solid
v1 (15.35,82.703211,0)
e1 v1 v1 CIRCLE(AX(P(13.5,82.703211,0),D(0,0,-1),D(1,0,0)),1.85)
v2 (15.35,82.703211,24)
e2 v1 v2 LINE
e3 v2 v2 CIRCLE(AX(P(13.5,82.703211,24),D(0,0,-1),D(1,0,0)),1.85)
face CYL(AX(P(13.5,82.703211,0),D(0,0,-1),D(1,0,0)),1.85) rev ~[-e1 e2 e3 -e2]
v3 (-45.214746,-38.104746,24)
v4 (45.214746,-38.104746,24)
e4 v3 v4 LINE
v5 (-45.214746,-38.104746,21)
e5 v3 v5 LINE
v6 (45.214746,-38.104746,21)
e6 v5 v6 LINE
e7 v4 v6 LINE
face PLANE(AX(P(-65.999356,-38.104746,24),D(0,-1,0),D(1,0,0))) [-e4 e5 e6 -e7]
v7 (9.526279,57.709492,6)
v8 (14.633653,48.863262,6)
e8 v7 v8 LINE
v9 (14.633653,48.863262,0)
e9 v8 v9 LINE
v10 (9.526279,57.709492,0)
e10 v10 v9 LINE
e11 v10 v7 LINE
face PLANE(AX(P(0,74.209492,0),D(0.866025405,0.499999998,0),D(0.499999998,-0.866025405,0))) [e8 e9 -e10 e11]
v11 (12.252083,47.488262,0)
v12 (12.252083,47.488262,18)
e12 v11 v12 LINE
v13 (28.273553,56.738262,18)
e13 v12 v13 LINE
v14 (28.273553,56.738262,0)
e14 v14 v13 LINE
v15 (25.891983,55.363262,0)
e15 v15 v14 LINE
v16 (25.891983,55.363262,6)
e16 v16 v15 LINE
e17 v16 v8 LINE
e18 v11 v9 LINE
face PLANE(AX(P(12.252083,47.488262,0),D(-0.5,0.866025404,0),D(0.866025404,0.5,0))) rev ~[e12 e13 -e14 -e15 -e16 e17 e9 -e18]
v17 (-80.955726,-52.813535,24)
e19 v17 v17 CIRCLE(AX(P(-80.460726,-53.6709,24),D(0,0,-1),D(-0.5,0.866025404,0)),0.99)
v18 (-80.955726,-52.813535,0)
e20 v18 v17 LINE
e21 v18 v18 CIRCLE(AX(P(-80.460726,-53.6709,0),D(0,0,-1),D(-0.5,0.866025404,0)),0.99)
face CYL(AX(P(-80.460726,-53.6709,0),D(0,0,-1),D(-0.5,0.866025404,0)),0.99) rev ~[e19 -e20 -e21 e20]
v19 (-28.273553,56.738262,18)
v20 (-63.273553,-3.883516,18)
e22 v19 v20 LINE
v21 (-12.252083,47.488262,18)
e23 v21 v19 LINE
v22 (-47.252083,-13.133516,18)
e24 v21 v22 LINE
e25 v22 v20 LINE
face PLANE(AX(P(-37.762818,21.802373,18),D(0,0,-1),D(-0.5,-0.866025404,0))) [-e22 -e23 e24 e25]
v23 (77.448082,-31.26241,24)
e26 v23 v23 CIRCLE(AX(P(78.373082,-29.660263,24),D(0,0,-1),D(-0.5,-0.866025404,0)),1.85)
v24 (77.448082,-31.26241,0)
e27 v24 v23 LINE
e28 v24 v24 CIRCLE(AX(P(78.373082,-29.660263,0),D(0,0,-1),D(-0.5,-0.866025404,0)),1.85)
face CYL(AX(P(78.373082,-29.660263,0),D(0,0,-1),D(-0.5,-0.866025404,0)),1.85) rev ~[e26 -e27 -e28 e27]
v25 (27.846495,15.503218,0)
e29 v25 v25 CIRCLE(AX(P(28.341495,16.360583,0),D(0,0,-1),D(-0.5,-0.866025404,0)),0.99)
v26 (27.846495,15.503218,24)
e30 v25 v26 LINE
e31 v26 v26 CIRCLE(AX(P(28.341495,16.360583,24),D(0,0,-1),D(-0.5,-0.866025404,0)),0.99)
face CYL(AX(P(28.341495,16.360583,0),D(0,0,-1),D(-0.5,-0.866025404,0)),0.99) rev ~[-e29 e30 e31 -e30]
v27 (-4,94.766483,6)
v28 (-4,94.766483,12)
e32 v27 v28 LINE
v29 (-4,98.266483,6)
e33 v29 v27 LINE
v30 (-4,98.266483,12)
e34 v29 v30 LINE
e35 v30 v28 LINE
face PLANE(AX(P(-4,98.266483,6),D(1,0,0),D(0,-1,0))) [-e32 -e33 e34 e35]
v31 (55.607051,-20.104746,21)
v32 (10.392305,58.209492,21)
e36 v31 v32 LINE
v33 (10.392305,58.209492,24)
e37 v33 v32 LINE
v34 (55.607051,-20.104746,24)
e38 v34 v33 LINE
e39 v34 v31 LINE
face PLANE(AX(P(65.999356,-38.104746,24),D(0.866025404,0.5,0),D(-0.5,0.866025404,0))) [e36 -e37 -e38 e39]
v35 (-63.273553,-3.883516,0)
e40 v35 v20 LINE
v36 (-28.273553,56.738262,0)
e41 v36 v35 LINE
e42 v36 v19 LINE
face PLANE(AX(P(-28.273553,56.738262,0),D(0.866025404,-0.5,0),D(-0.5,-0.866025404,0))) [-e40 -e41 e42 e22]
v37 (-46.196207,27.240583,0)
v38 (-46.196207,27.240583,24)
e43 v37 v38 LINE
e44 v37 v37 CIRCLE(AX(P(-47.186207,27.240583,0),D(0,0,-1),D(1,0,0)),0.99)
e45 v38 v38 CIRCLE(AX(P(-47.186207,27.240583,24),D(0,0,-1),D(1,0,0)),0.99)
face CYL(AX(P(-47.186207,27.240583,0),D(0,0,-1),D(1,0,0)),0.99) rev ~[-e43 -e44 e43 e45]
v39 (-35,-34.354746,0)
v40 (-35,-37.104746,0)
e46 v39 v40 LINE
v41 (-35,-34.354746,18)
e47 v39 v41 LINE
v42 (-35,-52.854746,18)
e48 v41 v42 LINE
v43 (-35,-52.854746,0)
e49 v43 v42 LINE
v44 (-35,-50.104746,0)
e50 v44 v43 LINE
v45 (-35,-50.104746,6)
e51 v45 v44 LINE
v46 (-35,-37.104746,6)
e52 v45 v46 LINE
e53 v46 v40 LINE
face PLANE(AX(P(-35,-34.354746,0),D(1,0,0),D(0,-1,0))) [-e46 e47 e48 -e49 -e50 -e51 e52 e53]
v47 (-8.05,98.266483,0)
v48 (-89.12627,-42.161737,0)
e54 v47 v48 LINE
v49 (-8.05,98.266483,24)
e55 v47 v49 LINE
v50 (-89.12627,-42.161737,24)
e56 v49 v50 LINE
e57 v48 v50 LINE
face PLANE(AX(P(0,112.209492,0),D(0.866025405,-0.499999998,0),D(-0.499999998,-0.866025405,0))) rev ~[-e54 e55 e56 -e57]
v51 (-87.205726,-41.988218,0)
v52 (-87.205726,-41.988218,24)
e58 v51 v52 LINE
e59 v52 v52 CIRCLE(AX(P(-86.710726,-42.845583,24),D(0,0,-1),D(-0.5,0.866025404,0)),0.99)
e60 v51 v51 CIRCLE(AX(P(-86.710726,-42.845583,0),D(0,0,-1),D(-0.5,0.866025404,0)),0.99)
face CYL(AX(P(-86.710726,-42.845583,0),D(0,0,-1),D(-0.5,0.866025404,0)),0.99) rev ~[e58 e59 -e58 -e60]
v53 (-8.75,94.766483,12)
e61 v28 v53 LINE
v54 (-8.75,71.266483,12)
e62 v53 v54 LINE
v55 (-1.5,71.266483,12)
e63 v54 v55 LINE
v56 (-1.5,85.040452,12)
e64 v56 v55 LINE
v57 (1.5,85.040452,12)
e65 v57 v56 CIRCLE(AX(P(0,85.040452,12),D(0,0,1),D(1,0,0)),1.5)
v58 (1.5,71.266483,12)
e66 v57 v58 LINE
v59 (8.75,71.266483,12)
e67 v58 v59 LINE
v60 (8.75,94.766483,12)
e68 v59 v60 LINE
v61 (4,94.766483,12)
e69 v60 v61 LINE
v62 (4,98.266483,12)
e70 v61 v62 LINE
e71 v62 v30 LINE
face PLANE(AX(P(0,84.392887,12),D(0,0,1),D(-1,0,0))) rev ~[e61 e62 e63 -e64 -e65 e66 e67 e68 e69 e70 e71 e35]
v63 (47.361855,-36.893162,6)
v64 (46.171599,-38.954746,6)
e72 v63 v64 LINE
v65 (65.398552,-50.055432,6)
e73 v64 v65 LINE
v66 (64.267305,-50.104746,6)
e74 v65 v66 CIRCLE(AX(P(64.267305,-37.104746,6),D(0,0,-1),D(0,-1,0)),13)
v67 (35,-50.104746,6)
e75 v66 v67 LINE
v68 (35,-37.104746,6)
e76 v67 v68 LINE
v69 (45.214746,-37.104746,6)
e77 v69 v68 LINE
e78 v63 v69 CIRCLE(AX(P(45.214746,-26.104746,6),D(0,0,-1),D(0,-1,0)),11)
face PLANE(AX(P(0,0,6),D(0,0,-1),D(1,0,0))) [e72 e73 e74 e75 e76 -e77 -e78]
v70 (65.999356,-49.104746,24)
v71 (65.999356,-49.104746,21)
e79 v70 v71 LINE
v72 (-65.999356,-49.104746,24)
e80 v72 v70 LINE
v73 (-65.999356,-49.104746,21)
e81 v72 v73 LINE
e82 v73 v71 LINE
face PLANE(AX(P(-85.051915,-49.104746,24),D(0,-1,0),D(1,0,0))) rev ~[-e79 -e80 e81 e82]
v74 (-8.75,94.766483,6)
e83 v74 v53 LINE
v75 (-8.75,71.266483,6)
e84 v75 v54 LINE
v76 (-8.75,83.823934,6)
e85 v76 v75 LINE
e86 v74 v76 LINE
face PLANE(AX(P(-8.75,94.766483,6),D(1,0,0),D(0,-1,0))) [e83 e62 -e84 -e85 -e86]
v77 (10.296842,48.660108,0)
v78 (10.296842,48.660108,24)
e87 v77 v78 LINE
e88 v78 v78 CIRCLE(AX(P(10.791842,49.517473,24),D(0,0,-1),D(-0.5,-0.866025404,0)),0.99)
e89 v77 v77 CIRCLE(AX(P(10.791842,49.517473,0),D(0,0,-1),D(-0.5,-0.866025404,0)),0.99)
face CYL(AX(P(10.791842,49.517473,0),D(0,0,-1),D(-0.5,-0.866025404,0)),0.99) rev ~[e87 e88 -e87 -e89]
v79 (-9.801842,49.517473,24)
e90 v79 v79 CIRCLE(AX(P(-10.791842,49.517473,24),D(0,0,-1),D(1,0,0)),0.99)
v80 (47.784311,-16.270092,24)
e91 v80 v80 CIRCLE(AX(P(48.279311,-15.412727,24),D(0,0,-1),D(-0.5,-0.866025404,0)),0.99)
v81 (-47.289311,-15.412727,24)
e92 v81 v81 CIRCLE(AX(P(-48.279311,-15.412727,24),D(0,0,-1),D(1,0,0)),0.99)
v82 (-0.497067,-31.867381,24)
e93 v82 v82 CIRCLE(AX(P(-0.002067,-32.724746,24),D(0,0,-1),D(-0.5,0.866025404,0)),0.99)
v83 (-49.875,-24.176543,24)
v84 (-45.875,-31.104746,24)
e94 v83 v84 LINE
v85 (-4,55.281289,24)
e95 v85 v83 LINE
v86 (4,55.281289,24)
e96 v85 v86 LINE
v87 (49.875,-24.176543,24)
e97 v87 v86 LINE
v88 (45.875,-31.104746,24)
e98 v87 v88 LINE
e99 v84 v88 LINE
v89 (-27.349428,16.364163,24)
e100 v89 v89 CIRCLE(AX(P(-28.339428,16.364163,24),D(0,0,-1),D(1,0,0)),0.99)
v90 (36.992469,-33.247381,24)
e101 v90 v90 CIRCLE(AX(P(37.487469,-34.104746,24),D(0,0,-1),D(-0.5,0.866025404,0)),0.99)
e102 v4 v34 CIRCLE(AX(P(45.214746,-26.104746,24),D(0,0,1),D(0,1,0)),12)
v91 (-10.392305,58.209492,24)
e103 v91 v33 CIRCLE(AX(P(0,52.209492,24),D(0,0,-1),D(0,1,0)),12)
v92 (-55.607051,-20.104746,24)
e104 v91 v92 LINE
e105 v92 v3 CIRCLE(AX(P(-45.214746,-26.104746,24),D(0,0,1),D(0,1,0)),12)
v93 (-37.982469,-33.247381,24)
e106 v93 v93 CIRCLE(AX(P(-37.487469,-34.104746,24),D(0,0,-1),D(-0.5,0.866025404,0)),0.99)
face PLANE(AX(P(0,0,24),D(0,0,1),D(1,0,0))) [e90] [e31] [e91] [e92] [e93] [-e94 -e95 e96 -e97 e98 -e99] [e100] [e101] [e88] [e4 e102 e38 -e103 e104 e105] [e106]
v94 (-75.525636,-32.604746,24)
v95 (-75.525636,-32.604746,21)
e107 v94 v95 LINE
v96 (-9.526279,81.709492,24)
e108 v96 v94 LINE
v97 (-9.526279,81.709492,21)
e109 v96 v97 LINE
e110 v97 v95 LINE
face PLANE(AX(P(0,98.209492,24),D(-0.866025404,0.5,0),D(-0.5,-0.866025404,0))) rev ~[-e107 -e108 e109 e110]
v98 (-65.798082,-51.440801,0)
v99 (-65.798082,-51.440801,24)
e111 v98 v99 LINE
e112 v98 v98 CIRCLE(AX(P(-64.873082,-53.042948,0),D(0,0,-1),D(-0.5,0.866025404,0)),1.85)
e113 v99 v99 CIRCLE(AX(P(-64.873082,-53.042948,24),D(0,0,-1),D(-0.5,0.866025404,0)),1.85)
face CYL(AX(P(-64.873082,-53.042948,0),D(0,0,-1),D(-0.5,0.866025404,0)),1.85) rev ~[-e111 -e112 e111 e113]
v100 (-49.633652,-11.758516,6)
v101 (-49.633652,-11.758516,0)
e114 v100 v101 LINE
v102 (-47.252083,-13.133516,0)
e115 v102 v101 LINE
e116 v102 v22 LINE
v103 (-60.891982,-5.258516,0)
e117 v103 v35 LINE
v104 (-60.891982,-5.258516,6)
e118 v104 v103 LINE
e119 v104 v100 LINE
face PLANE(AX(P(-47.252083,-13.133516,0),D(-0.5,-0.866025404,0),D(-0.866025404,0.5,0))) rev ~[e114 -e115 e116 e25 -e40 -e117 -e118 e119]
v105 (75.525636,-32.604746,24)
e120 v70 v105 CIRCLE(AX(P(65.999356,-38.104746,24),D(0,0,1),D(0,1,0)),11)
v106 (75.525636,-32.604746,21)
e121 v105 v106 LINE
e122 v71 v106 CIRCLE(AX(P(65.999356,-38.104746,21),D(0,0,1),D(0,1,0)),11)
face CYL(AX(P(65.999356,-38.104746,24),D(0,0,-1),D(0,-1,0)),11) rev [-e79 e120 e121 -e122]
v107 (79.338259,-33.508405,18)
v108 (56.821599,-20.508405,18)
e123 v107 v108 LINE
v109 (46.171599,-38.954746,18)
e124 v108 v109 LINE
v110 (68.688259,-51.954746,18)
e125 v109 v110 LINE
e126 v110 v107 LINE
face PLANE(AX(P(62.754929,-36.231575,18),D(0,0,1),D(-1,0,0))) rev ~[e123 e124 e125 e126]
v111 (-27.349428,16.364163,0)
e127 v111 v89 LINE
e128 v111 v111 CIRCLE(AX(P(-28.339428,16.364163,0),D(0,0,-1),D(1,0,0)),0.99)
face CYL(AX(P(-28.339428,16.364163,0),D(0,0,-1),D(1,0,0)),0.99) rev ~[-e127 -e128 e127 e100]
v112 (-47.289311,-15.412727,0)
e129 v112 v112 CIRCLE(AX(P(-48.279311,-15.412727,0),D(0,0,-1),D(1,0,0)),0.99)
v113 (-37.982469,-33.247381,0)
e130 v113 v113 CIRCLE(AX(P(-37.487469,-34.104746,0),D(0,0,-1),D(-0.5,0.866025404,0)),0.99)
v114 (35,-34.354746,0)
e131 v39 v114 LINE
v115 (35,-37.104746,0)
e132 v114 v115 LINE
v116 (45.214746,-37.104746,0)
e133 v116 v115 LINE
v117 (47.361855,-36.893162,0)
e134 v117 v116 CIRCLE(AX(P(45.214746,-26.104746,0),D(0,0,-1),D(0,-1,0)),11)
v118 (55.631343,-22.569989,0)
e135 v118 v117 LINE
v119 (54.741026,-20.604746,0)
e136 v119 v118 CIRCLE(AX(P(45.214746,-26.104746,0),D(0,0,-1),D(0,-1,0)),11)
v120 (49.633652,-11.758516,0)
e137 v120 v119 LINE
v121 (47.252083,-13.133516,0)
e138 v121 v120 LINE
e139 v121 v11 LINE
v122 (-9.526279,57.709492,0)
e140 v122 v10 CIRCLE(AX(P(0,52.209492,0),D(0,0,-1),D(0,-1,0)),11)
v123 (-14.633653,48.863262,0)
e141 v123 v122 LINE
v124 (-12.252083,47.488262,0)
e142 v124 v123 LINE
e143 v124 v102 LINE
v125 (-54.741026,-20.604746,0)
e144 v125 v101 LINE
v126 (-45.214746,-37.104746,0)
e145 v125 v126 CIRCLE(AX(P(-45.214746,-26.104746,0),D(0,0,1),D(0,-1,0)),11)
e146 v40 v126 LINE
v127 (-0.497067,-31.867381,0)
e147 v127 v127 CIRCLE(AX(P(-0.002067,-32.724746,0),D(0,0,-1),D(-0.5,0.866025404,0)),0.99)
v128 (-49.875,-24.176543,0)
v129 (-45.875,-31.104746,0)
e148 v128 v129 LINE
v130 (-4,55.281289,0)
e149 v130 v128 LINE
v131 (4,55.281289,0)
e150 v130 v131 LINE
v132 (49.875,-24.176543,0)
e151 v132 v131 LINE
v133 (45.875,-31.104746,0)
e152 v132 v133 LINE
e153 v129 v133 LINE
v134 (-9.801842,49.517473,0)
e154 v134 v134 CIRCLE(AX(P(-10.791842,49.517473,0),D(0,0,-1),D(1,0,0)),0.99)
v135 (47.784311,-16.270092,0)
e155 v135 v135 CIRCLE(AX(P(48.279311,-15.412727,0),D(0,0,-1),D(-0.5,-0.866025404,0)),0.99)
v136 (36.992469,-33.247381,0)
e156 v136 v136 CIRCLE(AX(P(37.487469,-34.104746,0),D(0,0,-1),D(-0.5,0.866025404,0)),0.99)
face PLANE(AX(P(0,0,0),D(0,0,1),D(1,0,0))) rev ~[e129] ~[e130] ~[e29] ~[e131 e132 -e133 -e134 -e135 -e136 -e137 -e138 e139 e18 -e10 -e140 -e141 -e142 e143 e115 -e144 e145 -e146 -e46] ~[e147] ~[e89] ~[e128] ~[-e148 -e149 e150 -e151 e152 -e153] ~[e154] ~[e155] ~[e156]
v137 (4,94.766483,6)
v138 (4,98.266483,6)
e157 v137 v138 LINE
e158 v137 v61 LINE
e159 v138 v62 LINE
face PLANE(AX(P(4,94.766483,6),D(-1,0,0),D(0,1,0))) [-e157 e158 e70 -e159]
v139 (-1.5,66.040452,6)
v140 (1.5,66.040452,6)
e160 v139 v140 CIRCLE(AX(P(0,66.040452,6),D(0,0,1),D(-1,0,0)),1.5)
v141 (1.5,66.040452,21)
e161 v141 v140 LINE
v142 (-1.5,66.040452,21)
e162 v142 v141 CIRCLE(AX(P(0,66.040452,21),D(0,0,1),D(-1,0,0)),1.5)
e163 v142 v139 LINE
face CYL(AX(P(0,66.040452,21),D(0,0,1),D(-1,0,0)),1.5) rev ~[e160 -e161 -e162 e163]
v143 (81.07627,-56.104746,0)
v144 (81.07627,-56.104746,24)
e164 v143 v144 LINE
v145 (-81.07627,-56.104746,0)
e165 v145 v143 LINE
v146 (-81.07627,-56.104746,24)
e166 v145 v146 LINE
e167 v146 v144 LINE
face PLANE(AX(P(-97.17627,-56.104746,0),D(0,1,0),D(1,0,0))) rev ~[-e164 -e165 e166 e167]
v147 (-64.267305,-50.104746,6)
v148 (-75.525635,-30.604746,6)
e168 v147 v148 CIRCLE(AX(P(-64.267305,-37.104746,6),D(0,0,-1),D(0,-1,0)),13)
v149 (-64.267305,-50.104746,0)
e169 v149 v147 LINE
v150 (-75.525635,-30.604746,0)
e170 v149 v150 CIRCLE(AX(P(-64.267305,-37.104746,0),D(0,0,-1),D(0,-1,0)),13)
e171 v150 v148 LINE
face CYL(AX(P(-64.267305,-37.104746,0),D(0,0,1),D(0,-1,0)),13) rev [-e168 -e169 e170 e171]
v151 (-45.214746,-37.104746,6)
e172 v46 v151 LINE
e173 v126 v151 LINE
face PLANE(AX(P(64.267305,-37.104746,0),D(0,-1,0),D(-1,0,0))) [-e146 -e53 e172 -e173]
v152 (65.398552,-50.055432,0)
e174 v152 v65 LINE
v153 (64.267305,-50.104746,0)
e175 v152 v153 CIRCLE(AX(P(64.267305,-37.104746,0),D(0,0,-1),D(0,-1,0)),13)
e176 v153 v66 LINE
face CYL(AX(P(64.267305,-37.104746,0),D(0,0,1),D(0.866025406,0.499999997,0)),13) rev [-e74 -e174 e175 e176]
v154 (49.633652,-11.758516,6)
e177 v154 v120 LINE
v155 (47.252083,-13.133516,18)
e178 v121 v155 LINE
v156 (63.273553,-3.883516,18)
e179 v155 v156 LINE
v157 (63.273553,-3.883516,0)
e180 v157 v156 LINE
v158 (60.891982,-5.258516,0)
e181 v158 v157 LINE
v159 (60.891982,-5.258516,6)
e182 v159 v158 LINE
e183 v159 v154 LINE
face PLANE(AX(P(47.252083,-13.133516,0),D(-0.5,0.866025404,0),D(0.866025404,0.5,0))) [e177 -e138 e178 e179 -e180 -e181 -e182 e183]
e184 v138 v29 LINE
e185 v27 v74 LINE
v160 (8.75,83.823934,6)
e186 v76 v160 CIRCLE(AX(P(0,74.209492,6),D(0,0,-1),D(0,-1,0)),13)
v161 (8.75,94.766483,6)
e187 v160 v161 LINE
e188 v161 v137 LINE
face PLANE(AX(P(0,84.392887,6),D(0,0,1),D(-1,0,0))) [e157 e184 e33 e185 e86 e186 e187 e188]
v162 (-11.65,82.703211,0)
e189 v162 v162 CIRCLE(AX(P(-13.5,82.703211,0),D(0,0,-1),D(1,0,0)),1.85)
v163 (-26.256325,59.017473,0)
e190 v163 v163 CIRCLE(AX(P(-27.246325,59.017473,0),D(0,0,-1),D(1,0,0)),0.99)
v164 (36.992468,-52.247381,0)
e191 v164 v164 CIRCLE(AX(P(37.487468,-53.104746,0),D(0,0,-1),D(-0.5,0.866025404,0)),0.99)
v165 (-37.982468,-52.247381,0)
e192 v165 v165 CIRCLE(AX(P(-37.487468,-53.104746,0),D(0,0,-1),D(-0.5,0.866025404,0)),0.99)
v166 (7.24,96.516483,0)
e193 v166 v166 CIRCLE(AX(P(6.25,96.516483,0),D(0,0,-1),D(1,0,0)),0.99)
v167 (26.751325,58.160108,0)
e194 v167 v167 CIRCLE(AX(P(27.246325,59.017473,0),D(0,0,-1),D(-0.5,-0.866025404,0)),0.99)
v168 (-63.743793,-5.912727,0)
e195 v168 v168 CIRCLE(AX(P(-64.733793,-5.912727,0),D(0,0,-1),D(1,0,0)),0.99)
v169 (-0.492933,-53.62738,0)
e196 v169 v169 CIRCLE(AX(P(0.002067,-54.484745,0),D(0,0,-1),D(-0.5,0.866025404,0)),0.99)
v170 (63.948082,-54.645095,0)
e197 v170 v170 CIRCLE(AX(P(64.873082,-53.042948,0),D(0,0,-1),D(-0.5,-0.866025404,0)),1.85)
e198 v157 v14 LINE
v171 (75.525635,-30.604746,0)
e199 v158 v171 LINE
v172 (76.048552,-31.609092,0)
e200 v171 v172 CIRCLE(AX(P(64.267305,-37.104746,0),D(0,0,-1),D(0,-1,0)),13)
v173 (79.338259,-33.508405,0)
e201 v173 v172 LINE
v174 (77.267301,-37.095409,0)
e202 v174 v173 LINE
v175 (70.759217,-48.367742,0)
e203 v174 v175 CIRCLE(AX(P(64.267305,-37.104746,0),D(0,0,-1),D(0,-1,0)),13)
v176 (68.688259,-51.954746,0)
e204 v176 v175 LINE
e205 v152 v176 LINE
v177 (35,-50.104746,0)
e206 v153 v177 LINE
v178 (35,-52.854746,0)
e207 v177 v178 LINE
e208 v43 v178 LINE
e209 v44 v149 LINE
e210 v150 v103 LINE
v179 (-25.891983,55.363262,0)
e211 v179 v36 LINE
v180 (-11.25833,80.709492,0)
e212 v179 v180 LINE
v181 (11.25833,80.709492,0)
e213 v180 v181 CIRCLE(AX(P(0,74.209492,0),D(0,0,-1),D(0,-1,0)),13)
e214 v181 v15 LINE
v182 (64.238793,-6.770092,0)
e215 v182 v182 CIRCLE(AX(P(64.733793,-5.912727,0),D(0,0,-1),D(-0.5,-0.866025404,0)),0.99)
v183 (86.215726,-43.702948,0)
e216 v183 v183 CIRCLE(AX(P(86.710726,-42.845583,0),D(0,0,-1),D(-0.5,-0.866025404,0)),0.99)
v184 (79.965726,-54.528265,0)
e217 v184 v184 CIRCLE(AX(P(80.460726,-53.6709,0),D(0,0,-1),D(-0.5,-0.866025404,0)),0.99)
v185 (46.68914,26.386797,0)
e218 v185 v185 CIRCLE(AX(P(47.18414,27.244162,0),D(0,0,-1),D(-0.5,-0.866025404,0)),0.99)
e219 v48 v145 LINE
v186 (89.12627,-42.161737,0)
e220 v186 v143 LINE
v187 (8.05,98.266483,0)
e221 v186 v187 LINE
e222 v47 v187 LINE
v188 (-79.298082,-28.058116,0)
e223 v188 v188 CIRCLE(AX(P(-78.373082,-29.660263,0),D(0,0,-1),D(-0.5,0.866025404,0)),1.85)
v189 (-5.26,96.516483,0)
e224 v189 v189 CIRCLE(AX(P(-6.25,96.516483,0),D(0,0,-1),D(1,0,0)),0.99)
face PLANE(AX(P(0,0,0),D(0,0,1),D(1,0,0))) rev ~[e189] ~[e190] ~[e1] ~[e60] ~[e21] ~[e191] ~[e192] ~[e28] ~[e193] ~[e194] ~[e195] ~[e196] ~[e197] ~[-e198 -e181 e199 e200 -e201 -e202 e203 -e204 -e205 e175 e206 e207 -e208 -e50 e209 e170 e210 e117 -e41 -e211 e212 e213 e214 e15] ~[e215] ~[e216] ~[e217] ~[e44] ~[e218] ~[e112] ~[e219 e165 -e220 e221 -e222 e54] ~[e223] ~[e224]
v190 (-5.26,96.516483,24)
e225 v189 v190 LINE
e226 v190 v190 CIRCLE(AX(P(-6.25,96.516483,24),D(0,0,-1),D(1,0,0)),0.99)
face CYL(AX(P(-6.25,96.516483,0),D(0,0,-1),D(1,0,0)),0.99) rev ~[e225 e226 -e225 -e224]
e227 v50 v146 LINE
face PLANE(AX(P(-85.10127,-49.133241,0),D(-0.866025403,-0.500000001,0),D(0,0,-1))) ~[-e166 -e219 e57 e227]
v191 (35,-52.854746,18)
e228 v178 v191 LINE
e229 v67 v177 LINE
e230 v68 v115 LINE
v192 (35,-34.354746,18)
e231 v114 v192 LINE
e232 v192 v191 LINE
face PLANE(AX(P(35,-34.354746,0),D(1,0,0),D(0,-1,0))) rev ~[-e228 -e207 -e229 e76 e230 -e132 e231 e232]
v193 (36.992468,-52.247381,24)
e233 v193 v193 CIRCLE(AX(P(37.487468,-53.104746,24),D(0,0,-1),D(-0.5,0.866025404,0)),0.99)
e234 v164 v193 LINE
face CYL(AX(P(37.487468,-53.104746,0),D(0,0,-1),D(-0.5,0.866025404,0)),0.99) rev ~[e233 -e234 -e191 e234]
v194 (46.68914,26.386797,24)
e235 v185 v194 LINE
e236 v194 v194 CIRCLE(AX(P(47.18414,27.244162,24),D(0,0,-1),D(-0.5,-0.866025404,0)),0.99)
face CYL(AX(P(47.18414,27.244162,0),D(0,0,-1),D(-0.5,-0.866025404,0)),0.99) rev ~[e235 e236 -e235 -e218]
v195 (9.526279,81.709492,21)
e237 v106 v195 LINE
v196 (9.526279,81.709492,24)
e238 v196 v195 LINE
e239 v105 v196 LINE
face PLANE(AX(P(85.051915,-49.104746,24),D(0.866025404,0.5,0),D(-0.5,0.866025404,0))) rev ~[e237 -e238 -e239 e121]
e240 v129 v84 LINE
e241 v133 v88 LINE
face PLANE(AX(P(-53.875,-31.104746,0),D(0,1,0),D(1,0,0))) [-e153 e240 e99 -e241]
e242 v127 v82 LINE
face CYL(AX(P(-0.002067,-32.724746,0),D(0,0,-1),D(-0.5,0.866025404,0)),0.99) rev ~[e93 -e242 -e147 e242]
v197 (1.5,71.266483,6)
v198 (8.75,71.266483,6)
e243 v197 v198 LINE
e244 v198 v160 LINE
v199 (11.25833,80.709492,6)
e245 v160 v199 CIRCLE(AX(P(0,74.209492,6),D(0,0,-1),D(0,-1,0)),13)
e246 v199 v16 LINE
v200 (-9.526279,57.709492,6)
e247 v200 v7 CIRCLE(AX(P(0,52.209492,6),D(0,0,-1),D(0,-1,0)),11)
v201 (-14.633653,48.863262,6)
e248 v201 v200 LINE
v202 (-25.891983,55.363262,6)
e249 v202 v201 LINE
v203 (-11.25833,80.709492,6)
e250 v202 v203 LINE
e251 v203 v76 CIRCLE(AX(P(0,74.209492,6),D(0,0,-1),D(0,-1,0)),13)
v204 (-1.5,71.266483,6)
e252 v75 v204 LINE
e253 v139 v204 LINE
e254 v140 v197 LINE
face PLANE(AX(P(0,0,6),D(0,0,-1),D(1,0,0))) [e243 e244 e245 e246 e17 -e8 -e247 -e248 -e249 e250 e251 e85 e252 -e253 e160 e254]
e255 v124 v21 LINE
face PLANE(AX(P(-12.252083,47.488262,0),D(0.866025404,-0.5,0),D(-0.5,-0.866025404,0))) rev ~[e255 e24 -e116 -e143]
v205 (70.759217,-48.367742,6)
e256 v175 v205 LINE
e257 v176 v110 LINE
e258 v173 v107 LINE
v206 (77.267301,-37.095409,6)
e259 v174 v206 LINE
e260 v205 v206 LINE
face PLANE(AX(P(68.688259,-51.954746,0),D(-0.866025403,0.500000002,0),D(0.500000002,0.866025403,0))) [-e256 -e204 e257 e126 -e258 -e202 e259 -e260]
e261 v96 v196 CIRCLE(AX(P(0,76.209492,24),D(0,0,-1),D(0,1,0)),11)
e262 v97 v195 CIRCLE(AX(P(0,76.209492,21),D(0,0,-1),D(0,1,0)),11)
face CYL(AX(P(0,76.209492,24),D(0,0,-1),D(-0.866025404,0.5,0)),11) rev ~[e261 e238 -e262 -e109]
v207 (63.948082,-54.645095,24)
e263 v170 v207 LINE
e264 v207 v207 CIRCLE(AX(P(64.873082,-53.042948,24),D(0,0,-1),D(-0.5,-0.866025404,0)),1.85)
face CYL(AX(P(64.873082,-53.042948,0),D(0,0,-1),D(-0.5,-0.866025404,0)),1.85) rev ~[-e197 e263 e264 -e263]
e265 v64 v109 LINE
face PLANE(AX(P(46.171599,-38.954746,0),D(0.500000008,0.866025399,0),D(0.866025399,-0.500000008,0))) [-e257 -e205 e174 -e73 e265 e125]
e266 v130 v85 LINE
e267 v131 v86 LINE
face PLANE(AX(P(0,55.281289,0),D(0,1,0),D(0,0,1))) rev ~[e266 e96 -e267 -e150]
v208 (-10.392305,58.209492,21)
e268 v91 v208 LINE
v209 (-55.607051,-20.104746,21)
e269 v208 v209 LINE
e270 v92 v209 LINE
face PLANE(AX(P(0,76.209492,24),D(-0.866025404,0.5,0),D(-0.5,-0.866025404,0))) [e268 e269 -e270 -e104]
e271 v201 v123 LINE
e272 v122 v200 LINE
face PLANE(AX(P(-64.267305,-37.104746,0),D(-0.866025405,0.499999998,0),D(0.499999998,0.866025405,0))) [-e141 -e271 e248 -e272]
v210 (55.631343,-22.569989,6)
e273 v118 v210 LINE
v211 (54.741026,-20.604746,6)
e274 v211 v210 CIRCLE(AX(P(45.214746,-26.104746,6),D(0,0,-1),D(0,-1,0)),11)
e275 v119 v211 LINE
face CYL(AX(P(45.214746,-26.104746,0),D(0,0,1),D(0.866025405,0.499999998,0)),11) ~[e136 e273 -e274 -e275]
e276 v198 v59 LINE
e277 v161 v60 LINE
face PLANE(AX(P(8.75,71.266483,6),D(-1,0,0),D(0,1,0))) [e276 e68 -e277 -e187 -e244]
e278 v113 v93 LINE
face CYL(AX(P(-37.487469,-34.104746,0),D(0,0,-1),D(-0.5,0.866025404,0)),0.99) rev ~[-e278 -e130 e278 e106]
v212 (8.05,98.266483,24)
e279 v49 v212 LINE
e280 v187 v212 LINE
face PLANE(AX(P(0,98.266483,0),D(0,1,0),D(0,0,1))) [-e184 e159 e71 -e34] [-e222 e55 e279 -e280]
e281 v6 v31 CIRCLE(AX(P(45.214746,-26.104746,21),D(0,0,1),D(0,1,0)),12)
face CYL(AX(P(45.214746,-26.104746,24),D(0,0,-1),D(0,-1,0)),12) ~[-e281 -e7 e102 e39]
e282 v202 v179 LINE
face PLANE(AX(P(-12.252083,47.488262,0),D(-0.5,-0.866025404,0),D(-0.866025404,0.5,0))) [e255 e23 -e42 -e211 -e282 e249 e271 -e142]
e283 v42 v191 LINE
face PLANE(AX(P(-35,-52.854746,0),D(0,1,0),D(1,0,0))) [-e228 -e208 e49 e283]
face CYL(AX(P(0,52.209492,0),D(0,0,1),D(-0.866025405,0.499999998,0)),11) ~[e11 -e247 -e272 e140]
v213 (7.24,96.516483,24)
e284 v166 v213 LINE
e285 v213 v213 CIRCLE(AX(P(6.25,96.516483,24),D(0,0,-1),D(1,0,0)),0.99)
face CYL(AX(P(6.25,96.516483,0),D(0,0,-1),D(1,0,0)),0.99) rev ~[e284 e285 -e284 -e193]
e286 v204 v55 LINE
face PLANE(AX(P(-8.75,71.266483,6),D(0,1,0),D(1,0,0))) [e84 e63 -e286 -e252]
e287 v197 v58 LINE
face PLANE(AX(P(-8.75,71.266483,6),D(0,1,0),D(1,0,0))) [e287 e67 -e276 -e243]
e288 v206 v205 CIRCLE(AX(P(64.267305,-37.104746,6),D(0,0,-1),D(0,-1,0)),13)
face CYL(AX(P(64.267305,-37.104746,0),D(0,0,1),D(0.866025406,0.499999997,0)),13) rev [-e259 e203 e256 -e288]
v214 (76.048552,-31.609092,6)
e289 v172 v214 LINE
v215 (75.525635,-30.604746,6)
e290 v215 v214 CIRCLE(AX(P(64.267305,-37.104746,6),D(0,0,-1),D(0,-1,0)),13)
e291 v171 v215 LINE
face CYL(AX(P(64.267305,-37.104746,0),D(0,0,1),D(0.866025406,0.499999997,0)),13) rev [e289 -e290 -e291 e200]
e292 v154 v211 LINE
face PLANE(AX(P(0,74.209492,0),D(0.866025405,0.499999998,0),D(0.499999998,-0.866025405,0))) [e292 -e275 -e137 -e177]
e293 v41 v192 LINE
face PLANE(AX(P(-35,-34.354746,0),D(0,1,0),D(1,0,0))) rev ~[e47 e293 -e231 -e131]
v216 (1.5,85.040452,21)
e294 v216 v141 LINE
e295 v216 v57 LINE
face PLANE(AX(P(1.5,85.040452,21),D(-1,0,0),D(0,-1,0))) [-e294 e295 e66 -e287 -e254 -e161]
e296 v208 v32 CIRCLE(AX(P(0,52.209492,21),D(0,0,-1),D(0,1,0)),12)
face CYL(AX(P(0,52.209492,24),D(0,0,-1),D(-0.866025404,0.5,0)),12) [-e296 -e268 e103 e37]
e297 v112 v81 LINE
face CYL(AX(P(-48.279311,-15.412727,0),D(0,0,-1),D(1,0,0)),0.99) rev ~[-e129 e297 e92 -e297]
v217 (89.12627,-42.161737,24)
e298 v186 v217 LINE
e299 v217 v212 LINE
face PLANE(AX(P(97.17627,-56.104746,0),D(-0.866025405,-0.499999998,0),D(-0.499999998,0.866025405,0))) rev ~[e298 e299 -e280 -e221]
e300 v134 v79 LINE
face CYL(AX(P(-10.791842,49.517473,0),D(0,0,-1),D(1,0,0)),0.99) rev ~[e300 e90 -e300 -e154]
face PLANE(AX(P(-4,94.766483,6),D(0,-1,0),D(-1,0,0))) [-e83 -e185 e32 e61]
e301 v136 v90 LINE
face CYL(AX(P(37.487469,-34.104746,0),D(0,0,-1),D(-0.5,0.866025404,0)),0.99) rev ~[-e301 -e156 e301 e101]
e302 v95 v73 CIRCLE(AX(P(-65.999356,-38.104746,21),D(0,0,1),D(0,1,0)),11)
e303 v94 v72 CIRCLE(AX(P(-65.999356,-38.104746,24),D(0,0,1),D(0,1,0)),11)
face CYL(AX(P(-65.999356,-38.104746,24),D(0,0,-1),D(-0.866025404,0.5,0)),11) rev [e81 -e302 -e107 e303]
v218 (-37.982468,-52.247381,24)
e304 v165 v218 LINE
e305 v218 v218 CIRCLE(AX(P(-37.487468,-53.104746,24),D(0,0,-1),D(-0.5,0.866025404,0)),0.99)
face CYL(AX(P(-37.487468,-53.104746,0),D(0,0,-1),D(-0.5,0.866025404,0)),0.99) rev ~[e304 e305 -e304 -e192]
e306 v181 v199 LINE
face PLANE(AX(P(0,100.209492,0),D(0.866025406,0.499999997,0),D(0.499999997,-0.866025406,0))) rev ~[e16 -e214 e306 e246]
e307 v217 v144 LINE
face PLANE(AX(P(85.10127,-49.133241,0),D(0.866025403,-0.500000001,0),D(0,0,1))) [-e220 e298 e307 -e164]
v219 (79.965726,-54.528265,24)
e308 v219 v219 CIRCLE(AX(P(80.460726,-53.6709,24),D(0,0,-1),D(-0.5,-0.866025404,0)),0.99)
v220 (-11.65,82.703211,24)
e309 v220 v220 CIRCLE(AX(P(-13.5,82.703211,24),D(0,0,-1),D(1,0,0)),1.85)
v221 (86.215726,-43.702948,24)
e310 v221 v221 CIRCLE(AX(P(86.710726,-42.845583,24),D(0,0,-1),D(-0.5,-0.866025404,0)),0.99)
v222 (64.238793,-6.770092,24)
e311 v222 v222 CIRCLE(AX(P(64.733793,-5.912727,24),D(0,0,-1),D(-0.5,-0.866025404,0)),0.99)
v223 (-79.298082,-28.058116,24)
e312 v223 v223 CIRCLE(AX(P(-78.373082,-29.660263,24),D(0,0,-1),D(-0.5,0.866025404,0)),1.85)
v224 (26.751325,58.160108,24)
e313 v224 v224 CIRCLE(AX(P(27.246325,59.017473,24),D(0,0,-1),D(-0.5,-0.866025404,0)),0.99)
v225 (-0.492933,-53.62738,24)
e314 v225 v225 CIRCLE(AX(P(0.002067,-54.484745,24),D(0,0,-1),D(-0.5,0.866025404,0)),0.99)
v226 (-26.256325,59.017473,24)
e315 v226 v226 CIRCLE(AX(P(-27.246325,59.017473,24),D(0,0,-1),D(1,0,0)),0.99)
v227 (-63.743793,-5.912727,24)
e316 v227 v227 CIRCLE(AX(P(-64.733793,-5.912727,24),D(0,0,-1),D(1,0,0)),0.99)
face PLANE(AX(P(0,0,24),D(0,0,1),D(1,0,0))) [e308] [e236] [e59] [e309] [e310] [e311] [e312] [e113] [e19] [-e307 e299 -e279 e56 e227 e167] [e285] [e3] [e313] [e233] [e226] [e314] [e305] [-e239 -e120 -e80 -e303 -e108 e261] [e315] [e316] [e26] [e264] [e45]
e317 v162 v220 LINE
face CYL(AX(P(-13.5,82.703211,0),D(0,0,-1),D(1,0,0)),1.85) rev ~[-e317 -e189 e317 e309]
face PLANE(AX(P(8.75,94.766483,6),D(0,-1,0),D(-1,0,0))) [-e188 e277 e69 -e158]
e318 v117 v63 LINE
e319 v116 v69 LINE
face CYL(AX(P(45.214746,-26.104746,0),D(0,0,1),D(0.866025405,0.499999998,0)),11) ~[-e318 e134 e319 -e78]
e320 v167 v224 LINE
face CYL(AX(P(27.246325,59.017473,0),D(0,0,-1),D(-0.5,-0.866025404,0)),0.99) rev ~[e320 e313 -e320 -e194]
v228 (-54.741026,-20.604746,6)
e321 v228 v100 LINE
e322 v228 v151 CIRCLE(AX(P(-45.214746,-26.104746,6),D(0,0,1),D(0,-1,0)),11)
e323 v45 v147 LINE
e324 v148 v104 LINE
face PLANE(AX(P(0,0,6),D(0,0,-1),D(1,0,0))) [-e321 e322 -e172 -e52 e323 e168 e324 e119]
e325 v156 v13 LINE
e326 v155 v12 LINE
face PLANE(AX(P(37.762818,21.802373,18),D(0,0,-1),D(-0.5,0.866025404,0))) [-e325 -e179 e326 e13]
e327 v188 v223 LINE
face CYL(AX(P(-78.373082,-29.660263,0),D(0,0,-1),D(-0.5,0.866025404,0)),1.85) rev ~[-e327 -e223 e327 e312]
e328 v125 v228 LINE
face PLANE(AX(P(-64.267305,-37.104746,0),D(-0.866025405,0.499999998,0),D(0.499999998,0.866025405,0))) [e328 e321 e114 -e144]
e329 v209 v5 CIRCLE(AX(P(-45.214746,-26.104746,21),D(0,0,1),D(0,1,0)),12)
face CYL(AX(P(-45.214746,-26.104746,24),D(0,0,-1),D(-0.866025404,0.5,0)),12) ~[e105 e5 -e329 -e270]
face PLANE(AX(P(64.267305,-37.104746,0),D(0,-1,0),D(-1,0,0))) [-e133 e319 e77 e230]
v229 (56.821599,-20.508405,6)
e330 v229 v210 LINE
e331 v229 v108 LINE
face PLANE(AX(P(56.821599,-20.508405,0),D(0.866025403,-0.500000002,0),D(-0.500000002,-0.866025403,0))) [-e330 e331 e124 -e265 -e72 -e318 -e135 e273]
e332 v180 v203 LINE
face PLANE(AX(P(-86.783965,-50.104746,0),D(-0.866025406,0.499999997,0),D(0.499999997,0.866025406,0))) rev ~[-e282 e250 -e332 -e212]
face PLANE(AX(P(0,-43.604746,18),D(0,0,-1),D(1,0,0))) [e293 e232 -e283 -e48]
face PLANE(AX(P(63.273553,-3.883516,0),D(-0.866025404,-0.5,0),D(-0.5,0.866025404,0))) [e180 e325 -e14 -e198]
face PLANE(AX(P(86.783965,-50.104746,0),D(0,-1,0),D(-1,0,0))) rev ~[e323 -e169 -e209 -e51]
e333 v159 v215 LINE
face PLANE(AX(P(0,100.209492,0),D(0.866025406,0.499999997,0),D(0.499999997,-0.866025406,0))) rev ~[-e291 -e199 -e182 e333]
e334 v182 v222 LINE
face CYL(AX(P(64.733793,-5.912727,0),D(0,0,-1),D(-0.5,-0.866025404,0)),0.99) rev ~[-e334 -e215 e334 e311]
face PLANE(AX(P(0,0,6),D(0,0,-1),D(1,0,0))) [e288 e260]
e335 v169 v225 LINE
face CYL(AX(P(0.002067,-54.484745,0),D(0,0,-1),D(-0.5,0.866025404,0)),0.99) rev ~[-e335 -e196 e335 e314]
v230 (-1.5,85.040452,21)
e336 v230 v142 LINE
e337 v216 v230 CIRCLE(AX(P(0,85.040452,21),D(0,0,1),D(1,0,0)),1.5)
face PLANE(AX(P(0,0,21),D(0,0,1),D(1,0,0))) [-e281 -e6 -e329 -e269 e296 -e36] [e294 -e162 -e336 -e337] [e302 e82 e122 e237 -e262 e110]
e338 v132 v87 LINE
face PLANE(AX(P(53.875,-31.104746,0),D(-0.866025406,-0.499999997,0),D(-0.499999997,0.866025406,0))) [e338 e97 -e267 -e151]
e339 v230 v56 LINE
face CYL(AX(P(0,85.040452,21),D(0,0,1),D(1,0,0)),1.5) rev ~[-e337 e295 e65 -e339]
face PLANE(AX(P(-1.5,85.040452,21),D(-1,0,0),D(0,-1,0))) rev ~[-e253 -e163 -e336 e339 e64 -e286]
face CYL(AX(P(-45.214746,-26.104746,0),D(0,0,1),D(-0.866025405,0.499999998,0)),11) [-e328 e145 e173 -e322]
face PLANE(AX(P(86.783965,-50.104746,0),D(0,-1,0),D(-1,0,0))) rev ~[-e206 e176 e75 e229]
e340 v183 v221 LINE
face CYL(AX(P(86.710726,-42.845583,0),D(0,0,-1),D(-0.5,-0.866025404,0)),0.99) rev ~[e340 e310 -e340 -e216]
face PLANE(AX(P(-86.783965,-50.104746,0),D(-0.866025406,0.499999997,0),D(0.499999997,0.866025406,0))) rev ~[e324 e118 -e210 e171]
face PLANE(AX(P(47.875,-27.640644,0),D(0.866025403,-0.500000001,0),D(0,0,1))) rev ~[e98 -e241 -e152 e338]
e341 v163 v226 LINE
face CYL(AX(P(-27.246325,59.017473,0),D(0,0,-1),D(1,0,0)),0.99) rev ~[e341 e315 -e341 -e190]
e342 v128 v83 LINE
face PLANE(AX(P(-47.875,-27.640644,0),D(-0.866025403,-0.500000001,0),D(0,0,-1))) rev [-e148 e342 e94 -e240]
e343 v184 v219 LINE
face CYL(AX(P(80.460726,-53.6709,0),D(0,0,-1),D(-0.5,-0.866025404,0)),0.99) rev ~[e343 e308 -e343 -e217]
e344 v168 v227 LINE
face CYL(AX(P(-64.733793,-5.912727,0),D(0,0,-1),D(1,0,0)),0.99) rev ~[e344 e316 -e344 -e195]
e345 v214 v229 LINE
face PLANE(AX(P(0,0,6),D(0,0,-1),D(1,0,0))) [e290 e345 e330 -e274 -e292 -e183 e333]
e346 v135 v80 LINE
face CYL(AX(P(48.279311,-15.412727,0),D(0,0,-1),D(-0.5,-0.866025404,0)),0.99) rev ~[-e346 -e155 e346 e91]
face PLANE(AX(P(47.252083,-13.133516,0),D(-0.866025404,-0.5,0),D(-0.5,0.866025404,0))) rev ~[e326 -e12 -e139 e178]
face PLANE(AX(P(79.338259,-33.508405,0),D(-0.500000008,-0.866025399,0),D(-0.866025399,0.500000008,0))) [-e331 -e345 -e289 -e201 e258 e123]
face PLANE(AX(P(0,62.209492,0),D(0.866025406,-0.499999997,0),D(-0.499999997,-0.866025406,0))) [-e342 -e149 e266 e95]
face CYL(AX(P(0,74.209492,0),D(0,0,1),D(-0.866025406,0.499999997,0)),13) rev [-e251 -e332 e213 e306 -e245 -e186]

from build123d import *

# Parameters (mm, degrees)
PAD_DEPTH             = 24
POCKET_DEPTH          = 3
SKETCH002_W           = 70
SKETCH002_H           = 18.5
POCKET001_DEPTH       = 18
POLARPATTERN_COUNT    = 3
POCKET002_DEPTH       = 6
CHAMFER_SIZE          = 8
FILLET_R              = 13
FILLET001_R           = 11
CHAMFER001_SIZE       = 16.1
FILLET002_R           = 11
FILLET003_R           = 12
POCKET003_DEPTH       = 6
POCKET004_DEPTH       = 18
POCKET005_DEPTH       = 21.001
SKETCH012_R           = 1.85
SKETCH012_R_2         = 0.99
POCKET011_DEPTH       = 498.049286
POLARPATTERN001_COUNT = 3


with BuildPart() as part:
    # Sketch → Pad (new body)
    with BuildSketch(Plane.XY):
        Polygon((0, 112.209492), (-97.17627, -56.104746), (97.17627, -56.104746), align=None)
        Polygon((0, 62.209492), (-53.875, -31.104746), (53.875, -31.104746), align=None, mode=Mode.SUBTRACT)
    extrude(amount=PAD_DEPTH)

    # Sketch001 (on Face8 of Pad) → Pocket (cut)
    with BuildSketch(Plane.XY.offset(24)):
        Polygon((0, 98.209492), (-85.051915, -49.104746), (85.051915, -49.104746), align=None)
        Polygon((0, 76.209492), (-65.999356, -38.104746), (65.999356, -38.104746), align=None, mode=Mode.SUBTRACT)
    extrude(amount=-POCKET_DEPTH, mode=Mode.SUBTRACT)

    # Sketch002 (on Face4 of Pocket) → Pocket001 (cut)
    with BuildSketch(Plane(origin=(0, 0, 0), x_dir=(1, 0, 0), z_dir=(0, 0, -1))):
        with Locations((0, 43.604746)):
            Rectangle(SKETCH002_W, SKETCH002_H)
    pocket001 = extrude(amount=-POCKET001_DEPTH, mode=Mode.SUBTRACT)

    # PolarPattern: Pocket001 ×3 about axis
    polarpattern_axis = Axis((0, 0, 0), (0, 0, -1))
    for i in range(1, POLARPATTERN_COUNT):
        add(pocket001.rotate(polarpattern_axis, i * 360 / POLARPATTERN_COUNT), mode=Mode.SUBTRACT)

    # Sketch003 (on Face4 of PolarPattern) → Pocket002 (cut)
    with BuildSketch(Plane(origin=(0, 0, 0), x_dir=(1, 0, 0), z_dir=(0, 0, -1))):
        Polygon((0, -100.209492), (86.783965, 50.104746), (-86.783965, 50.104746), align=None)
        Polygon((0, -74.209492), (64.267305, 37.104746), (-64.267305, 37.104746), align=None, mode=Mode.SUBTRACT)
    extrude(amount=-POCKET002_DEPTH, mode=Mode.SUBTRACT)

    # Chamfer
    chamfer_edges = [part.edges().sort_by_distance(p)[0] for p in [
        (-53.875, -31.104746, 12),
        (53.875, -31.104746, 12),
        (0, 62.209492, 12),
    ]]
    chamfer(chamfer_edges, length=CHAMFER_SIZE)

    # Fillet
    fillet_edges = [part.edges().sort_by_distance(p)[0] for p in [
        (0, 100.209492, 3),
        (-86.783965, -50.104746, 3),
        (86.783965, -50.104746, 3),
    ]]
    fillet(fillet_edges, radius=FILLET_R)

    # Fillet001
    fillet001_edges = [part.edges().sort_by_distance(p)[0] for p in [
        (0, 74.209492, 3),
        (64.267305, -37.104746, 3),
        (-64.267305, -37.104746, 3),
    ]]
    fillet(fillet001_edges, radius=FILLET001_R)

    # Chamfer001
    chamfer001_edges = [part.edges().sort_by_distance(p)[0] for p in [
        (97.17627, -56.104746, 12),
        (0, 112.209492, 12),
        (-97.17627, -56.104746, 12),
    ]]
    chamfer(chamfer001_edges, length=CHAMFER001_SIZE)

    # Fillet002
    fillet002_edges = [part.edges().sort_by_distance(p)[0] for p in [
        (0, 98.209492, 22.5),
        (-85.051915, -49.104746, 22.5),
        (85.051915, -49.104746, 22.5),
    ]]
    fillet(fillet002_edges, radius=FILLET002_R)

    # Fillet003
    fillet003_edges = [part.edges().sort_by_distance(p)[0] for p in [
        (65.999356, -38.104746, 22.5),
        (0, 76.209492, 22.5),
        (-65.999356, -38.104746, 22.5),
    ]]
    fillet(fillet003_edges, radius=FILLET003_R)

    # Sketch004 (on Face60 of Fillet003) → Pocket003 (cut)
    with BuildSketch(Plane(origin=(0, 0, 6), x_dir=(1, 0, 0), z_dir=(0, 0, -1))):
        Polygon((-8.75, -71.266483), (8.75, -71.266483), (8.75, -94.766483), (4, -94.766483), (4, -98.266483), (-4, -98.266483), (-4, -94.766483), (-8.75, -94.766483), align=None)
    extrude(amount=-POCKET003_DEPTH, mode=Mode.SUBTRACT)

    # Sketch005 (on Face29 of Pocket003) → Pocket004 (cut)
    with BuildSketch(Plane(origin=(0, 0, 0), x_dir=(1, 0, 0), z_dir=(0, 0, -1))):
        Polygon((46.171599, 38.954746), (68.688259, 51.954746), (79.338259, 33.508405), (56.821599, 20.508405), align=None)
    extrude(amount=-POCKET004_DEPTH, mode=Mode.SUBTRACT)

    # Sketch006 (on Face1 of Pocket004) → Pocket005 (cut, through all)
    with BuildSketch(Plane.XY.offset(21)):
        with BuildLine():
            ThreePointArc((1.5, 85.040452), (0, 86.540452), (-1.5, 85.040452))
            Line((-1.5, 85.040452), (-1.5, 66.040452))
            ThreePointArc((-1.5, 66.040452), (0, 64.540452), (1.5, 66.040452))
            Line((1.5, 85.040452), (1.5, 66.040452))
        make_face()
    extrude(amount=-POCKET005_DEPTH, mode=Mode.SUBTRACT)

    # Sketch012 → Pocket011 (cut, through all)
    with BuildSketch(Plane(origin=(0, 0, 0), x_dir=(1, 0, 0), z_dir=(0, 0, -1))):
        with Locations((-13.5, -82.703211)):
            Circle(SKETCH012_R)
        with Locations((13.5, -82.703211)):
            Circle(SKETCH012_R)
        with Locations((-6.25, -96.516483)):
            Circle(SKETCH012_R_2)
        with Locations((6.25, -96.516483)):
            Circle(SKETCH012_R_2)
        with Locations((-27.246325, -59.017473)):
            Circle(SKETCH012_R_2)
        with Locations((-47.186207, -27.240583)):
            Circle(SKETCH012_R_2)
        with Locations((-64.733793, 5.912727)):
            Circle(SKETCH012_R_2)
        with Locations((-10.791842, -49.517473)):
            Circle(SKETCH012_R_2)
        with Locations((-28.339428, -16.364163)):
            Circle(SKETCH012_R_2)
        with Locations((-48.279311, 15.412727)):
            Circle(SKETCH012_R_2)
    pocket011 = extrude(amount=-POCKET011_DEPTH, mode=Mode.SUBTRACT)

    # PolarPattern001: Pocket011 ×3 about axis
    polarpattern001_axis = Axis((0, 0, 0), (0, 0, -1))
    for i in range(1, POLARPATTERN001_COUNT):
        add(pocket011.rotate(polarpattern001_axis, i * 360 / POLARPATTERN001_COUNT), mode=Mode.SUBTRACT)


solid = part.part
